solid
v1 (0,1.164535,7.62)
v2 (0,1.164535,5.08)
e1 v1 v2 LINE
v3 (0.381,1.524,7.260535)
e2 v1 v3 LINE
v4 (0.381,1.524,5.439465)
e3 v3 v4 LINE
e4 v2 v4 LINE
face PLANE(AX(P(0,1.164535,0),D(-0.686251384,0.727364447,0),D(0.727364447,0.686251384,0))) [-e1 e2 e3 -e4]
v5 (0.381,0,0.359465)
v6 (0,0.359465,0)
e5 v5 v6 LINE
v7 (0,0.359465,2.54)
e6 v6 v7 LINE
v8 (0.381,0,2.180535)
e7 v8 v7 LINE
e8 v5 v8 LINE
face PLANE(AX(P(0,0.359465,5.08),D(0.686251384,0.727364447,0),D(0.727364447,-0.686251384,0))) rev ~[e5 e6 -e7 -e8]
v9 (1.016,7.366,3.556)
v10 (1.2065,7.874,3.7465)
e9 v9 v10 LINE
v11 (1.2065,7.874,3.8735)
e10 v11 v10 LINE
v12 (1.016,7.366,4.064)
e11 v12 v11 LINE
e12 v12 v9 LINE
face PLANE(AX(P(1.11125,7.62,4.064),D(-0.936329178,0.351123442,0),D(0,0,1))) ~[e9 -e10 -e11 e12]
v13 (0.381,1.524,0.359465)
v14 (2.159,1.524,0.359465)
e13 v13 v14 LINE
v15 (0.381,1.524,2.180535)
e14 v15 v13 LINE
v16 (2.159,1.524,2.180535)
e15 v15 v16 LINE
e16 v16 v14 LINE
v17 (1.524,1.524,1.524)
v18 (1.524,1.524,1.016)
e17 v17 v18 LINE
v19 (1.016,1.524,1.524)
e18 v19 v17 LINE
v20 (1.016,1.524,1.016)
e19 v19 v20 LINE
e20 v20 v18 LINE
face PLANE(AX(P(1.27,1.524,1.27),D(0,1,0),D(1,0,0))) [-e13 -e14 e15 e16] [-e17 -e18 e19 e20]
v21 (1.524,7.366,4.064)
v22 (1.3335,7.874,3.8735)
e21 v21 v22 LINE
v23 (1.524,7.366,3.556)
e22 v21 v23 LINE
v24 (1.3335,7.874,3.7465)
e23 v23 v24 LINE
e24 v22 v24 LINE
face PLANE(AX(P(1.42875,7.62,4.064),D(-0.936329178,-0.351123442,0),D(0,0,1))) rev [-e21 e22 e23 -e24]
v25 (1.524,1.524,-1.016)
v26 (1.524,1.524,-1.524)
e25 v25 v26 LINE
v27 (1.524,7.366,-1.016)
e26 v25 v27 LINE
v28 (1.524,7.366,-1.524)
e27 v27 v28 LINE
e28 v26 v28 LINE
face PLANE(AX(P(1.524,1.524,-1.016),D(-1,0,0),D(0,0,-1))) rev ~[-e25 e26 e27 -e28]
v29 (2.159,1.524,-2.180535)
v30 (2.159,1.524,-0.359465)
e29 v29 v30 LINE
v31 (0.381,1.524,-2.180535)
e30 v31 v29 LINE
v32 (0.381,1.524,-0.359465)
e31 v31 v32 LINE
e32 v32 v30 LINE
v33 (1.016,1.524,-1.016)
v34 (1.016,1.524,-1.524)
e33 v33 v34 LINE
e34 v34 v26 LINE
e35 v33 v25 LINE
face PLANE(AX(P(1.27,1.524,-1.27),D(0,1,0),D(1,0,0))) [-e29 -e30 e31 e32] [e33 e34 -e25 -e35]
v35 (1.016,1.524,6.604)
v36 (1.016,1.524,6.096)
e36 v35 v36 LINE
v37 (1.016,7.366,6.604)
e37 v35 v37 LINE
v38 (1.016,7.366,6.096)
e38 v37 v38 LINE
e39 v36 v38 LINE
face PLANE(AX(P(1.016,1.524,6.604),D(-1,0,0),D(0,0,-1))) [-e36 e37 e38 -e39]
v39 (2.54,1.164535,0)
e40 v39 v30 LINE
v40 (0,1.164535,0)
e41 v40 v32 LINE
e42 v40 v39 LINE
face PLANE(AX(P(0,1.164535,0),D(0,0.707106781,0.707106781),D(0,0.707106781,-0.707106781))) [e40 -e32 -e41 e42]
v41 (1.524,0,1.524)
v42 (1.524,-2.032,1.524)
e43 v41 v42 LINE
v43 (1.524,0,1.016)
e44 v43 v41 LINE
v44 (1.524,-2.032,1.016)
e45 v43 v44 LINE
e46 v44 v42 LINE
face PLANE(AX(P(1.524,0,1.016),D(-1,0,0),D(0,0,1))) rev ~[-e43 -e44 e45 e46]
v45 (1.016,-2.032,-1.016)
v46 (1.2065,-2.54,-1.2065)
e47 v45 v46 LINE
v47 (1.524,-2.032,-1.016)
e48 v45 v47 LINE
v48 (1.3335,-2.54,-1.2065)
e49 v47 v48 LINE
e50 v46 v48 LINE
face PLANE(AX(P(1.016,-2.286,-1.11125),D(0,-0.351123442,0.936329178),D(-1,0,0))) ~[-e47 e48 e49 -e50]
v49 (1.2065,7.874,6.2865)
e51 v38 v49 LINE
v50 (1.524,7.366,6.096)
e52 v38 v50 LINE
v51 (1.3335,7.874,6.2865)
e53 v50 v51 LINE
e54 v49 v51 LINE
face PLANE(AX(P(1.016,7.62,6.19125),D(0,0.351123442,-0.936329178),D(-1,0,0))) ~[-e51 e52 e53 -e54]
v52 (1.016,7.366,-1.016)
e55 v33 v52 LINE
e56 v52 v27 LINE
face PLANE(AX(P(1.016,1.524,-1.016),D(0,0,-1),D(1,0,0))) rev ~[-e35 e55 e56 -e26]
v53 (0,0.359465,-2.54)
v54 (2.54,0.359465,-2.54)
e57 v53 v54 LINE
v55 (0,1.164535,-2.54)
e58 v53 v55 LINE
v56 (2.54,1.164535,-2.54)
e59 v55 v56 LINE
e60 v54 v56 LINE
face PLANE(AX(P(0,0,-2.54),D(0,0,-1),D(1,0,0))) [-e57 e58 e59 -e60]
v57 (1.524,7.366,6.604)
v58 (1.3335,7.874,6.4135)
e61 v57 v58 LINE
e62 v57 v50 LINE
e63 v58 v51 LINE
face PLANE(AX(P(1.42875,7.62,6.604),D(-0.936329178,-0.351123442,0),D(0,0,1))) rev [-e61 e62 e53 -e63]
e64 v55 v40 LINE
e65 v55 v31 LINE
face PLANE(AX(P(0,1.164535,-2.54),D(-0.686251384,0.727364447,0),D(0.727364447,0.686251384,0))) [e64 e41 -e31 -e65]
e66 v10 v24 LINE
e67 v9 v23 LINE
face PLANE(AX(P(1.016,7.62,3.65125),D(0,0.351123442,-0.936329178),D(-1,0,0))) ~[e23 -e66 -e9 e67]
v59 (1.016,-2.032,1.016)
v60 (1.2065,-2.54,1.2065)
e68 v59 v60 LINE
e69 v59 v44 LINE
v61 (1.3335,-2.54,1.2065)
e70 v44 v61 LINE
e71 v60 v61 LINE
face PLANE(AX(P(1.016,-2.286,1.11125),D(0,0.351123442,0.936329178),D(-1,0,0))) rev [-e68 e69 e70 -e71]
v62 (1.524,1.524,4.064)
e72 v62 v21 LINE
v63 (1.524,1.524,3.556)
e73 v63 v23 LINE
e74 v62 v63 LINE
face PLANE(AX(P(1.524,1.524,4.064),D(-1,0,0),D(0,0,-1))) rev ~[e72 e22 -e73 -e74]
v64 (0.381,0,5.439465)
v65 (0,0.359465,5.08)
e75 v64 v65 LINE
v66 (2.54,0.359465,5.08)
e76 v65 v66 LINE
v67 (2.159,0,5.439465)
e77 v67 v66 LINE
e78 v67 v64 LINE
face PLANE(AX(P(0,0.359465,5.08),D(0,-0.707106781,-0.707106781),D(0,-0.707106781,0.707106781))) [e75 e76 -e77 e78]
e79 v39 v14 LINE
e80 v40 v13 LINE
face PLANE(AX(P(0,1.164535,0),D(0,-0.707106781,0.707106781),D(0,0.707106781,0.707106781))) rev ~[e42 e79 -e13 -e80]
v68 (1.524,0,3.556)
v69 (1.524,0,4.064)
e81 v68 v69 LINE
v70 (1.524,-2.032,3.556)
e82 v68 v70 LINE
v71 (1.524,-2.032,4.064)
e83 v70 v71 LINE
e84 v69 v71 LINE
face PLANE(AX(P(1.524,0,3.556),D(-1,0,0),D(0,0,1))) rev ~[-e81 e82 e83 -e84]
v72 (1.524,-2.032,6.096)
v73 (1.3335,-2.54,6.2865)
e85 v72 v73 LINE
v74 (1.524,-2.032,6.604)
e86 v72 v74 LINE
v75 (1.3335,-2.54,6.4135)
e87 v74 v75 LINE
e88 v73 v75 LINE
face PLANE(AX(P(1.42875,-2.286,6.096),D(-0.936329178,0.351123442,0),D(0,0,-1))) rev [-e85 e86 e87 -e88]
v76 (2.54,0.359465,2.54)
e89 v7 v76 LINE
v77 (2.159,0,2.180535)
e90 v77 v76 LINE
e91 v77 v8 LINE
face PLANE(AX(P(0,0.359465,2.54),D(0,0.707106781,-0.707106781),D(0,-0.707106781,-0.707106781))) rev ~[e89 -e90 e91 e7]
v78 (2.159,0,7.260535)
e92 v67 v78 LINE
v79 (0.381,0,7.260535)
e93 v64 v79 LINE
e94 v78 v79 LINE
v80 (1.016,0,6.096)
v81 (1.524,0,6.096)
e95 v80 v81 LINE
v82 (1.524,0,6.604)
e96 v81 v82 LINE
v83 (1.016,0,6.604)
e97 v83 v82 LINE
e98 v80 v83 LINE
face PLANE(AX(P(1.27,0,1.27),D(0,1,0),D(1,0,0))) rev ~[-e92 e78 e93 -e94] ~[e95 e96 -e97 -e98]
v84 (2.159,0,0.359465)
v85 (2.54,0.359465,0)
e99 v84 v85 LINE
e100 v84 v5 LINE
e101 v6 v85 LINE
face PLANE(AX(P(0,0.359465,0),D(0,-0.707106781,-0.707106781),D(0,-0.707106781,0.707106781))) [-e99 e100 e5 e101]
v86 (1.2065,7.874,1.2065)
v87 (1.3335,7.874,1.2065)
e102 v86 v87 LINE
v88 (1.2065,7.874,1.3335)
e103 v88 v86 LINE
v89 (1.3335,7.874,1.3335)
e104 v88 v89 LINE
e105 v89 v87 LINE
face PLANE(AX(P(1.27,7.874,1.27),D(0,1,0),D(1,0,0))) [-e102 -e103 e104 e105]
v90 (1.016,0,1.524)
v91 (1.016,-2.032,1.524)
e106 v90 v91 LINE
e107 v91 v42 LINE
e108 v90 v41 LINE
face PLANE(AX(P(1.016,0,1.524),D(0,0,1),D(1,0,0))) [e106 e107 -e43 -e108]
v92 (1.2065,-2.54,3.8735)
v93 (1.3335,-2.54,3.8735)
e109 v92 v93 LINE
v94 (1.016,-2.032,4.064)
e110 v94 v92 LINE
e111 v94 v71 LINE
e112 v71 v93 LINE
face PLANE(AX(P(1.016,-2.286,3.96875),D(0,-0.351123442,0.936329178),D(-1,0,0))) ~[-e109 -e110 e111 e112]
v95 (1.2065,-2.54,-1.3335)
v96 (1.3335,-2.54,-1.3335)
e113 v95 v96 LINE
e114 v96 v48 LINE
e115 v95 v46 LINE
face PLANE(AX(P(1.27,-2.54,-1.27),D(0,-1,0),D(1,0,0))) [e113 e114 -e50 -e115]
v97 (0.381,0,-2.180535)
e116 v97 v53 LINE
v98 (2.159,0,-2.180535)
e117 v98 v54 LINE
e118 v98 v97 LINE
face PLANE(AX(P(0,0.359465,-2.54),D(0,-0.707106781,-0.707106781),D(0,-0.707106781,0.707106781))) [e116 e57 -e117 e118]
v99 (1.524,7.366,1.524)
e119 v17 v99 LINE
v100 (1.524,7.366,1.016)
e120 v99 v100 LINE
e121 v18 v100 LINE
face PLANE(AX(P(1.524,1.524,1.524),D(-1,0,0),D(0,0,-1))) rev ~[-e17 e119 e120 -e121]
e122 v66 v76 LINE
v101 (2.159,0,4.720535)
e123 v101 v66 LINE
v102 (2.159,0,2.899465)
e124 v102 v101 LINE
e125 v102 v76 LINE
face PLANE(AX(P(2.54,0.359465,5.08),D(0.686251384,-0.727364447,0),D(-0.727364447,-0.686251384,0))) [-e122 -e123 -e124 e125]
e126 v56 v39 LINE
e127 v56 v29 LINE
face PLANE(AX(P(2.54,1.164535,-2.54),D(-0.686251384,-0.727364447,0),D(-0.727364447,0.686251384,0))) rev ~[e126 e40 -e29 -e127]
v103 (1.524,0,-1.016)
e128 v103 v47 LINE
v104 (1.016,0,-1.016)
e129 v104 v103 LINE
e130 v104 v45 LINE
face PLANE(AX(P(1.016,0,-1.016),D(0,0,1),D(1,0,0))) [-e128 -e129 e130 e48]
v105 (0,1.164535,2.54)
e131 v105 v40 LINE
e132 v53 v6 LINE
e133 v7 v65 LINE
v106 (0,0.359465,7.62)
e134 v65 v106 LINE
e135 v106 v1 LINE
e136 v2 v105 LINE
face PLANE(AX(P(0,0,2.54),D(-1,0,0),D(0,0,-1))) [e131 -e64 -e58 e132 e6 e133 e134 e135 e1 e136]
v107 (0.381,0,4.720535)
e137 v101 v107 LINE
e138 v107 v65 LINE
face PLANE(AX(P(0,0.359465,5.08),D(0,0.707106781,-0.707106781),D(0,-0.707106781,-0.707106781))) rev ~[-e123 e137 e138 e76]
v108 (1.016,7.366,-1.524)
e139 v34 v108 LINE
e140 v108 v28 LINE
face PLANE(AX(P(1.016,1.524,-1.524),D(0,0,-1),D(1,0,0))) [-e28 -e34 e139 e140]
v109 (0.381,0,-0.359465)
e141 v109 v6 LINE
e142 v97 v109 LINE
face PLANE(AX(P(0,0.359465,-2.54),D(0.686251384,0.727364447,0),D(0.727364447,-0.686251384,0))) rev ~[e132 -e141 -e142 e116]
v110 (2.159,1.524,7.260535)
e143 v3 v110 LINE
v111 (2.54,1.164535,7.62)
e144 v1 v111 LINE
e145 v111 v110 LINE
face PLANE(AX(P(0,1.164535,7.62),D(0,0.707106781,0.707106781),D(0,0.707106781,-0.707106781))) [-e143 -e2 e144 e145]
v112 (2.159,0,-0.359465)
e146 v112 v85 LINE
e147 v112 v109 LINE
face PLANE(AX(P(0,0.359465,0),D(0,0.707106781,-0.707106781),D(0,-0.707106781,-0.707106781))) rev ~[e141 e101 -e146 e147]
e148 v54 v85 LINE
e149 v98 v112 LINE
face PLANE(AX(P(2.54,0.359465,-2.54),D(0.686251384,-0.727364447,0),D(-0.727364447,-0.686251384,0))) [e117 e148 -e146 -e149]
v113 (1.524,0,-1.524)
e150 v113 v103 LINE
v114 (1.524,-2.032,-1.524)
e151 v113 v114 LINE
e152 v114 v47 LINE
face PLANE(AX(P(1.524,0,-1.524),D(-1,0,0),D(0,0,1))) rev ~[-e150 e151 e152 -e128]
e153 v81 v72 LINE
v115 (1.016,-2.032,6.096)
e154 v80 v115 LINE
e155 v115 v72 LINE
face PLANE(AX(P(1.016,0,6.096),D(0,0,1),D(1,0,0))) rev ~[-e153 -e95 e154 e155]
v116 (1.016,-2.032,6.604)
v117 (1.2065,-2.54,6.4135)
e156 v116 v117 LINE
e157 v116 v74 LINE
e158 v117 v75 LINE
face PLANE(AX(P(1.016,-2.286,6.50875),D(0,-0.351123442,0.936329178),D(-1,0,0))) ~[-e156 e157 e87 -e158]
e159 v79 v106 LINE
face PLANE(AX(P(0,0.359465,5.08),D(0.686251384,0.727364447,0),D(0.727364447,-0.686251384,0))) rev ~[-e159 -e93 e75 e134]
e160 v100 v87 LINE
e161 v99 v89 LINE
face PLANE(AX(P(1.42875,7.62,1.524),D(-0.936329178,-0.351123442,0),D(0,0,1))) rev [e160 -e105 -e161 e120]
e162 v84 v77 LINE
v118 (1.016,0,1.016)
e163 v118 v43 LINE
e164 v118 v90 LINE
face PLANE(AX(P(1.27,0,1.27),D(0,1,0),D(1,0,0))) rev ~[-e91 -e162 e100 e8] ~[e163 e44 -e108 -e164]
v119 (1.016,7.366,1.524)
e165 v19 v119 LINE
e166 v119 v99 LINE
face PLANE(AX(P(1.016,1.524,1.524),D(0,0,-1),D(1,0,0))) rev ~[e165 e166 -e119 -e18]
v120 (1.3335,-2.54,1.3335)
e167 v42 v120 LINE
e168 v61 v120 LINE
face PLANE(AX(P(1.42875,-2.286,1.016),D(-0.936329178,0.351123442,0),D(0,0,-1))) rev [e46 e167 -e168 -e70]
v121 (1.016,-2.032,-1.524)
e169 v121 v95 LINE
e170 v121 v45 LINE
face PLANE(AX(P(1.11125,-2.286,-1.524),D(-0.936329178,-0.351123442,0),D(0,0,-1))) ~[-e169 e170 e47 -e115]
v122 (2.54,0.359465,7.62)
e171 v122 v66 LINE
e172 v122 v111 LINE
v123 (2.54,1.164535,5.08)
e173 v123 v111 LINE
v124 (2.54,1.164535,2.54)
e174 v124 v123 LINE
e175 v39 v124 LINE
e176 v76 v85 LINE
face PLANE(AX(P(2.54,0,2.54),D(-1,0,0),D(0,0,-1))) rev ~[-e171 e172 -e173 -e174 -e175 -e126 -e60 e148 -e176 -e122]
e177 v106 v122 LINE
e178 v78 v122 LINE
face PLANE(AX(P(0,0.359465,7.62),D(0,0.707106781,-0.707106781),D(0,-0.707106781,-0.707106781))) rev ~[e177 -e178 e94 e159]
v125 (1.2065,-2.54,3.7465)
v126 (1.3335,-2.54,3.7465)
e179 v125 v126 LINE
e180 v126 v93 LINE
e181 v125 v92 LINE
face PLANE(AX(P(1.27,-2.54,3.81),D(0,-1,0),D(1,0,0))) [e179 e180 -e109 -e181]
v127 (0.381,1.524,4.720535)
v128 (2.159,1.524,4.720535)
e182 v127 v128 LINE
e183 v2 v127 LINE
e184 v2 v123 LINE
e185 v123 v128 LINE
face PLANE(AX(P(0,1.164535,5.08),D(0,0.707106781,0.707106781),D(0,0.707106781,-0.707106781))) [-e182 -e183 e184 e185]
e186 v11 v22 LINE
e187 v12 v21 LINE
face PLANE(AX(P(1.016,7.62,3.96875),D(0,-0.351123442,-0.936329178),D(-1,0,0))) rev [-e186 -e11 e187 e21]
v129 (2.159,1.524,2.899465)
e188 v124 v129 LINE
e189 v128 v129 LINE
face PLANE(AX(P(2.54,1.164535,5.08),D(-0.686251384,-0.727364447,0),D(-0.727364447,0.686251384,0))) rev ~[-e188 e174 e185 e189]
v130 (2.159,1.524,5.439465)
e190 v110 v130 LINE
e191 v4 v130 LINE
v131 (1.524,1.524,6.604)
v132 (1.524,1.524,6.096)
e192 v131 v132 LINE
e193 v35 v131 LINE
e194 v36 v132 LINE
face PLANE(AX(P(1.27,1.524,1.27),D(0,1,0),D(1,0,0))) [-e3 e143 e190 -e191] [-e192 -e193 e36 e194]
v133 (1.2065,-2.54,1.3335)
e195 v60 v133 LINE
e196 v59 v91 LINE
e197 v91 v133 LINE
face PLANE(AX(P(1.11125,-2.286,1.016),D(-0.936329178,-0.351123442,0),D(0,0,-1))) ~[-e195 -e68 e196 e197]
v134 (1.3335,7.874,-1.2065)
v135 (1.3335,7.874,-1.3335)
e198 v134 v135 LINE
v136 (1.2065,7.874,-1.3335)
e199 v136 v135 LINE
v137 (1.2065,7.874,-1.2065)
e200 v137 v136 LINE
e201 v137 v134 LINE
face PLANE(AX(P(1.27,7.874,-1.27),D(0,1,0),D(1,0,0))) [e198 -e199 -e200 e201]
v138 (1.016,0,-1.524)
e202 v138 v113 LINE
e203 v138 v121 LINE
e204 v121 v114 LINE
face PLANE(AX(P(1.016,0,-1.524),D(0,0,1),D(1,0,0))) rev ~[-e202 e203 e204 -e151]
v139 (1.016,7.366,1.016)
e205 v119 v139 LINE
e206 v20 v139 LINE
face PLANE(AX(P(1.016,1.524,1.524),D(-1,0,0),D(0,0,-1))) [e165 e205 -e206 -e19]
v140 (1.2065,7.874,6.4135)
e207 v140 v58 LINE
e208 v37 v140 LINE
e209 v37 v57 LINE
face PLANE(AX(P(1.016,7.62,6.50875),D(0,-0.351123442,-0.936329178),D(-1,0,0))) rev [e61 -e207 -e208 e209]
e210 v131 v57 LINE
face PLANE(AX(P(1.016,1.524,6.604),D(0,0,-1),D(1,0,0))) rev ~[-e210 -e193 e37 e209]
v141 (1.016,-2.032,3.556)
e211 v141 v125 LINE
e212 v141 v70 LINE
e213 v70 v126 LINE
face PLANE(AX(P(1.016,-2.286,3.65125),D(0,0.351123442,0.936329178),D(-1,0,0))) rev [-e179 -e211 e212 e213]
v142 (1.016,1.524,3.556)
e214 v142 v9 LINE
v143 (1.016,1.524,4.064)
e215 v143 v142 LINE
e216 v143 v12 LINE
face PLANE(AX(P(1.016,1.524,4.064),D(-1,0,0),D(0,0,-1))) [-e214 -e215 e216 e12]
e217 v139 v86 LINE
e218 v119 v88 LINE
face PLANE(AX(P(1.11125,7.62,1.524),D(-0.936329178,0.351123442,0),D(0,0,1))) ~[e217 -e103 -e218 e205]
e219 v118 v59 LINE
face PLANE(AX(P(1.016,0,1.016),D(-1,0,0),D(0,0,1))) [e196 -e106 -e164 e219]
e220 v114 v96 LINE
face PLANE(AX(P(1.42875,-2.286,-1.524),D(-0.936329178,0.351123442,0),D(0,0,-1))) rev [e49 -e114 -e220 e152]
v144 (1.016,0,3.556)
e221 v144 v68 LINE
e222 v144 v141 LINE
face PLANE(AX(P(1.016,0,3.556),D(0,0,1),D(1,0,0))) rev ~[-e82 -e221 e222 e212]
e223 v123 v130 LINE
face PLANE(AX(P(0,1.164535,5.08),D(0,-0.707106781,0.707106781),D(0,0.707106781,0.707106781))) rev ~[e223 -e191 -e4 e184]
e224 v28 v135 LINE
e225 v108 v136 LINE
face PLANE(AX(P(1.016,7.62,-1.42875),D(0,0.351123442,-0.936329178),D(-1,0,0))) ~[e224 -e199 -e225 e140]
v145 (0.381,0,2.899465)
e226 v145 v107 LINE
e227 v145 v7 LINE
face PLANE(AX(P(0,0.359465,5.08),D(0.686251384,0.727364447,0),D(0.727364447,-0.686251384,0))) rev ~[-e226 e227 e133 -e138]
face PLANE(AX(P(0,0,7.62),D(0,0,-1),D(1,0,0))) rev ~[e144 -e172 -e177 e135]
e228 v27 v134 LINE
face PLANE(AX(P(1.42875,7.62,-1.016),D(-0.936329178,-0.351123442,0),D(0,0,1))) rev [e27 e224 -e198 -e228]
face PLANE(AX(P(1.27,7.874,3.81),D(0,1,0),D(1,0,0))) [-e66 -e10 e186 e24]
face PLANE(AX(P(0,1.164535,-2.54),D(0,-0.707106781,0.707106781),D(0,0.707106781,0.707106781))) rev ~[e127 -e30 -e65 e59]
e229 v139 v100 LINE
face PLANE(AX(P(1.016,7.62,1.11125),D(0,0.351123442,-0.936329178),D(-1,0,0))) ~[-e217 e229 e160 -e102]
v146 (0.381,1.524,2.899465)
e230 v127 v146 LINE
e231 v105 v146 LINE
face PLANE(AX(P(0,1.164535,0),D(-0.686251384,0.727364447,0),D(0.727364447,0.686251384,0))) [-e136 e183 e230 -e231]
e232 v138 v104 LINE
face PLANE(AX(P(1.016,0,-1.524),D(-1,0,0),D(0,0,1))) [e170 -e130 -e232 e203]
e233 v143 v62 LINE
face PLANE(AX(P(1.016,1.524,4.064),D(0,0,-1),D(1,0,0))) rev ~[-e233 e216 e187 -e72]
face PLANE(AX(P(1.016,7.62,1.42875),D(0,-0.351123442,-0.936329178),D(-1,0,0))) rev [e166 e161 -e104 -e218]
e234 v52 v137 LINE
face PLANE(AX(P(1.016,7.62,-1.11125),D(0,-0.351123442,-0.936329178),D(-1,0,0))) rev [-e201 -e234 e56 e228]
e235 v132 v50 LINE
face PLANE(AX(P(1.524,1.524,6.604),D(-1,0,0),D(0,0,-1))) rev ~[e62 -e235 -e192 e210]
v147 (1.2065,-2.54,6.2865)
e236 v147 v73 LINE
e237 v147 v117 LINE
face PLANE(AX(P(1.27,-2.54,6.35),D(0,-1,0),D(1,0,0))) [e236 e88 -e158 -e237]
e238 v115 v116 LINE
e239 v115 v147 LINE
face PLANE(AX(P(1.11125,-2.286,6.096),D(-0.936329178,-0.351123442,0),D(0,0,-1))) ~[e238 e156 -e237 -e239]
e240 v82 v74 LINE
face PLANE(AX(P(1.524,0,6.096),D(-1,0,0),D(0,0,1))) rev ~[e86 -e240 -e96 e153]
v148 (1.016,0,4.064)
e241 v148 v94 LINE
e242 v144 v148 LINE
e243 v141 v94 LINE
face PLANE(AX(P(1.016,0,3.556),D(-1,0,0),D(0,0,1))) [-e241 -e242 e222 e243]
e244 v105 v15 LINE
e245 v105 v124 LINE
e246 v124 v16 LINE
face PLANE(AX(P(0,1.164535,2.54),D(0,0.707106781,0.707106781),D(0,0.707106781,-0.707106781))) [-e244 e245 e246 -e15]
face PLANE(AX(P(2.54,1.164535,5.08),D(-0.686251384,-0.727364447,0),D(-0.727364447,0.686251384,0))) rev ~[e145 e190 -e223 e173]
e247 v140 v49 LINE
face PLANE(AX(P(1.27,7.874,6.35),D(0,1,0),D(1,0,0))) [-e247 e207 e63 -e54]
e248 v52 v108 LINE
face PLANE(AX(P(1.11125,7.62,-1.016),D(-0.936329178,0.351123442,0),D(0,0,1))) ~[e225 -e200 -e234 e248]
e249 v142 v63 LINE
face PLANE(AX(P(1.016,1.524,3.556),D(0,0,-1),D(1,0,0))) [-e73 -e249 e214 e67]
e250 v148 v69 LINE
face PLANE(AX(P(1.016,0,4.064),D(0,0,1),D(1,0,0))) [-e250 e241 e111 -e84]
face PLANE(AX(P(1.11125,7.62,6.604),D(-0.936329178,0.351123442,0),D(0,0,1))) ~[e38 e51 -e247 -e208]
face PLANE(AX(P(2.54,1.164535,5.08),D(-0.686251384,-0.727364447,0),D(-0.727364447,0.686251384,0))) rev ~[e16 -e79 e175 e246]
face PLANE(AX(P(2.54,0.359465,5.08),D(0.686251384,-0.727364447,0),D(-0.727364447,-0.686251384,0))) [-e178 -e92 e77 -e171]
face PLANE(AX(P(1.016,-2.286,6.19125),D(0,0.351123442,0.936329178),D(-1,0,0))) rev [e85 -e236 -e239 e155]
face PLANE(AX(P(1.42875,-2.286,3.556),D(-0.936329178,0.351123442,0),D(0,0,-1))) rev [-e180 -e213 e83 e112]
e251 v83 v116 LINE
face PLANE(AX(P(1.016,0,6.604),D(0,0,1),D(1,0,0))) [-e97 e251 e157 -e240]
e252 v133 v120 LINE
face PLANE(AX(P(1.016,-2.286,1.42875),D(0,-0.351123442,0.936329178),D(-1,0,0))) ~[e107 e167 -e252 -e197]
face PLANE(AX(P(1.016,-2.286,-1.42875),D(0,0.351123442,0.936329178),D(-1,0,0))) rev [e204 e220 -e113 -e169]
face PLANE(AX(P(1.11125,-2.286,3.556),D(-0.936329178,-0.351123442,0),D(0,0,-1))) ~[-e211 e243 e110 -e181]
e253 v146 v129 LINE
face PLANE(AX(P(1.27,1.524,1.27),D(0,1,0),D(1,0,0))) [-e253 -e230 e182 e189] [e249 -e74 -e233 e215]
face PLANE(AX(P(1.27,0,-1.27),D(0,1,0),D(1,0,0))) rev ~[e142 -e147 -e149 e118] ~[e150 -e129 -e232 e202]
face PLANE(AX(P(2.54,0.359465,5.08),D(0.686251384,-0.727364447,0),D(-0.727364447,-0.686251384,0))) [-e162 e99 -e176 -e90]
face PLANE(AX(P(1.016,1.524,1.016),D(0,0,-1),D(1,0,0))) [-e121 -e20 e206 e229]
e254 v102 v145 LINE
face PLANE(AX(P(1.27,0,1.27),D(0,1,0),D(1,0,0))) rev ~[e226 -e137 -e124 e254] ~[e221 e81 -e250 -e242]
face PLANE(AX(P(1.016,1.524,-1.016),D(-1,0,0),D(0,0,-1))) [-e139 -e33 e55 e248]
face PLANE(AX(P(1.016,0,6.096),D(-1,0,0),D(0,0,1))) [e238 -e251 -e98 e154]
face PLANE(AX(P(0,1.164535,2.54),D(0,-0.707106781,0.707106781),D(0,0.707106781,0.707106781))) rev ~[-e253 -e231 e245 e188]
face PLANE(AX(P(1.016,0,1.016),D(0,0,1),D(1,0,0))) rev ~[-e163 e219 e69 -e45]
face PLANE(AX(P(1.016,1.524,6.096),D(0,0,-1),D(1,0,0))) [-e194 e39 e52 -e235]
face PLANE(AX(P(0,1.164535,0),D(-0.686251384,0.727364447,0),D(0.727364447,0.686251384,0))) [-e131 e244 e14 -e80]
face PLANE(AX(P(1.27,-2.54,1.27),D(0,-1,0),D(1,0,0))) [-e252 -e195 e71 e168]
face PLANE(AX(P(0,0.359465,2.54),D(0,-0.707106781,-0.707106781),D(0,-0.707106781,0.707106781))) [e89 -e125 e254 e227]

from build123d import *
from OCP.BRepFilletAPI import BRepFilletAPI_MakeChamfer

# Parameters (mm, degrees)
SKETCH1_W                   = 2.54
SKETCH1_H                   = 2.54
BOSS_EXTRUDE1_DEPTH         = 1.524
SKETCH2_W                   = 0.508
SKETCH2_H                   = 0.508
BOSS_EXTRUDE2_DEPTH         = 6.35
SKETCH3_W                   = 0.508
SKETCH3_H                   = 0.508
BOSS_EXTRUDE3_DEPTH         = 2.54
CHAMFER1_SIZE               = 0.508
CHAMFER1_SIZE2              = 0.1905
CHAMFER2_SIZE               = 0.508
CHAMFER2_SIZE2              = 0.1905
CUT_EXTRUDE1_DEPTH          = 2.54
CUT_EXTRUDE2_DEPTH          = 2.54
LPATTERN5_COUNT             = 4
LPATTERN5_PITCH             = 2.54
CHAMFER1_OF_LPATTERN5_SIZE  = 0.508
CHAMFER1_OF_LPATTERN5_SIZE2 = 0.1905
CHAMFER2_OF_LPATTERN5_SIZE  = 0.508
CHAMFER2_OF_LPATTERN5_SIZE2 = 0.1905


with BuildPart() as part:
    # Sketch1 → Boss-Extrude1 (new body)
    with BuildSketch(Plane(origin=(0, 0, 0), x_dir=(1, 0, 0), z_dir=(0, 1, 0))):
        with Locations((1.27, 1.27)):
            Rectangle(SKETCH1_W, SKETCH1_H)
    boss_extrude1 = extrude(amount=BOSS_EXTRUDE1_DEPTH)

    # Sketch2 → Boss-Extrude2 (add)
    with BuildSketch(Plane(origin=(0, 1.524, 0), x_dir=(1, 0, 0), z_dir=(0, 1, 0))):
        with Locations((1.27, 1.27)):
            Rectangle(SKETCH2_W, SKETCH2_H)
    boss_extrude2 = extrude(amount=BOSS_EXTRUDE2_DEPTH)

    # Sketch3 → Boss-Extrude3 (add)
    with BuildSketch(Plane.XZ):
        with Locations((1.27, -1.27)):
            Rectangle(SKETCH3_W, SKETCH3_H)
    boss_extrude3 = extrude(amount=BOSS_EXTRUDE3_DEPTH)

    # Chamfer1: one chamfer whose edges measure the first distance from different faces: ONE call of the kernel's chamfer builder (chamfer() names one face for all edges)
    chamfer1_edges_1 = [part.edges().sort_by_distance(p)[0] for p in [
        (1.016, 7.874, -1.27),
    ]]
    chamfer1_side_1 = [part.faces().sort_by_distance(p)[0] for p in [
        (1.016, 4.699, -1.27),
    ]]
    chamfer1_edges_2 = [part.edges().sort_by_distance(p)[0] for p in [
        (1.27, 7.874, -1.016),
    ]]
    chamfer1_side_2 = [part.faces().sort_by_distance(p)[0] for p in [
        (1.27, 4.699, -1.016),
    ]]
    chamfer1_edges_3 = [part.edges().sort_by_distance(p)[0] for p in [
        (1.524, 7.874, -1.27),
    ]]
    chamfer1_side_3 = [part.faces().sort_by_distance(p)[0] for p in [
        (1.524, 4.699, -1.27),
    ]]
    chamfer1_edges_4 = [part.edges().sort_by_distance(p)[0] for p in [
        (1.27, 7.874, -1.524),
    ]]
    chamfer1_side_4 = [part.faces().sort_by_distance(p)[0] for p in [
        (1.27, 4.699, -1.524),
    ]]
    chamfer1 = BRepFilletAPI_MakeChamfer(part.part.solid().wrapped)
    for e in chamfer1_edges_1:
        chamfer1.Add(CHAMFER1_SIZE, CHAMFER1_SIZE2, e.wrapped, chamfer1_side_1[0].wrapped)  # the first distance lies on this face
    for e in chamfer1_edges_2:
        chamfer1.Add(CHAMFER1_SIZE, CHAMFER1_SIZE2, e.wrapped, chamfer1_side_2[0].wrapped)  # the first distance lies on this face
    for e in chamfer1_edges_3:
        chamfer1.Add(CHAMFER1_SIZE, CHAMFER1_SIZE2, e.wrapped, chamfer1_side_3[0].wrapped)  # the first distance lies on this face
    for e in chamfer1_edges_4:
        chamfer1.Add(CHAMFER1_SIZE, CHAMFER1_SIZE2, e.wrapped, chamfer1_side_4[0].wrapped)  # the first distance lies on this face
    add(Compound.cast(chamfer1.Shape()), mode=Mode.REPLACE)

    # Chamfer2: one chamfer whose edges measure the first distance from different faces: ONE call of the kernel's chamfer builder (chamfer() names one face for all edges)
    chamfer2_edges_1 = [part.edges().sort_by_distance(p)[0] for p in [
        (1.27, -2.54, -1.524),
    ]]
    chamfer2_side_1 = [part.faces().sort_by_distance(p)[0] for p in [
        (1.27, -1.27, -1.524),
    ]]
    chamfer2_edges_2 = [part.edges().sort_by_distance(p)[0] for p in [
        (1.524, -2.54, -1.27),
    ]]
    chamfer2_side_2 = [part.faces().sort_by_distance(p)[0] for p in [
        (1.524, -1.27, -1.27),
    ]]
    chamfer2_edges_3 = [part.edges().sort_by_distance(p)[0] for p in [
        (1.27, -2.54, -1.016),
    ]]
    chamfer2_side_3 = [part.faces().sort_by_distance(p)[0] for p in [
        (1.27, -1.27, -1.016),
    ]]
    chamfer2_edges_4 = [part.edges().sort_by_distance(p)[0] for p in [
        (1.016, -2.54, -1.27),
    ]]
    chamfer2_side_4 = [part.faces().sort_by_distance(p)[0] for p in [
        (1.016, -1.27, -1.27),
    ]]
    chamfer2 = BRepFilletAPI_MakeChamfer(part.part.solid().wrapped)
    for e in chamfer2_edges_1:
        chamfer2.Add(CHAMFER2_SIZE, CHAMFER2_SIZE2, e.wrapped, chamfer2_side_1[0].wrapped)  # the first distance lies on this face
    for e in chamfer2_edges_2:
        chamfer2.Add(CHAMFER2_SIZE, CHAMFER2_SIZE2, e.wrapped, chamfer2_side_2[0].wrapped)  # the first distance lies on this face
    for e in chamfer2_edges_3:
        chamfer2.Add(CHAMFER2_SIZE, CHAMFER2_SIZE2, e.wrapped, chamfer2_side_3[0].wrapped)  # the first distance lies on this face
    for e in chamfer2_edges_4:
        chamfer2.Add(CHAMFER2_SIZE, CHAMFER2_SIZE2, e.wrapped, chamfer2_side_4[0].wrapped)  # the first distance lies on this face
    add(Compound.cast(chamfer2.Shape()), mode=Mode.REPLACE)

    # Sketch4 → Cut-Extrude1 (cut)
    with BuildSketch(Plane(origin=(0, 0, -2.54), x_dir=(-1, 0, 0), z_dir=(0, 0, -1))):
        Polygon((-2.54, 1.16453539), (-2.159, 1.524), (-2.54, 1.524), align=None)
        Polygon((0, 1.524), (0, 1.16453539), (-0.381, 1.524), align=None)
        Polygon((0, 0.35946461), (-0.381, 0), (0, 0), align=None)
        Polygon((-2.54, 0), (-2.54, 0.35946461), (-2.159, 0), align=None)
    cut_extrude1 = extrude(amount=-CUT_EXTRUDE1_DEPTH, mode=Mode.SUBTRACT)

    # Sketch5 → Cut-Extrude2 (cut)
    with BuildSketch(Plane.ZY):
        Polygon((-2.54, 1.16453539), (-2.159, 1.54553539), (-2.54, 1.54553539), align=None)
        Polygon((0, 1.54553539), (0, 1.16453539), (-0.381, 1.54553539), align=None)
        Polygon((-2.54, -0.02153539), (-2.54, 0.35946461), (-2.159, -0.02153539), align=None)
        Polygon((0, 0.35946461), (-0.381, -0.02153539), (0, -0.02153539), align=None)
    cut_extrude2 = extrude(amount=-CUT_EXTRUDE2_DEPTH, mode=Mode.SUBTRACT)

    # LPattern5: Boss-Extrude1, Boss-Extrude2, Boss-Extrude3, Cut-Extrude1, Cut-Extrude2 ×4
    with Locations(*[(0, 0, i * LPATTERN5_PITCH) for i in range(1, LPATTERN5_COUNT)]):
        add(boss_extrude1)
        add(boss_extrude2)
        add(boss_extrude3)
        add(cut_extrude1, mode=Mode.SUBTRACT)
        add(cut_extrude2, mode=Mode.SUBTRACT)

    # Chamfer1 of LPattern5: one chamfer whose edges measure the first distance from different faces: ONE call of the kernel's chamfer builder (chamfer() names one face for all edges)
    chamfer1_of_lpattern5_edges_1 = [part.edges().sort_by_distance(p)[0] for p in [
        (1.016, 7.874, 1.27),
    ]]
    chamfer1_of_lpattern5_side_1 = [part.faces().sort_by_distance(p)[0] for p in [
        (1.016, 4.699, 1.27),
    ]]
    chamfer1_of_lpattern5_edges_2 = [part.edges().sort_by_distance(p)[0] for p in [
        (1.27, 7.874, 1.524),
    ]]
    chamfer1_of_lpattern5_side_2 = [part.faces().sort_by_distance(p)[0] for p in [
        (1.27, 4.699, 1.524),
    ]]
    chamfer1_of_lpattern5_edges_3 = [part.edges().sort_by_distance(p)[0] for p in [
        (1.524, 7.874, 1.27),
    ]]
    chamfer1_of_lpattern5_side_3 = [part.faces().sort_by_distance(p)[0] for p in [
        (1.524, 4.699, 1.27),
    ]]
    chamfer1_of_lpattern5_edges_4 = [part.edges().sort_by_distance(p)[0] for p in [
        (1.27, 7.874, 1.016),
    ]]
    chamfer1_of_lpattern5_side_4 = [part.faces().sort_by_distance(p)[0] for p in [
        (1.27, 4.699, 1.016),
    ]]
    chamfer1_of_lpattern5_edges_5 = [part.edges().sort_by_distance(p)[0] for p in [
        (1.016, 7.874, 3.81),
    ]]
    chamfer1_of_lpattern5_side_5 = [part.faces().sort_by_distance(p)[0] for p in [
        (1.016, 4.699, 3.81),
    ]]
    chamfer1_of_lpattern5_edges_6 = [part.edges().sort_by_distance(p)[0] for p in [
        (1.27, 7.874, 4.064),
    ]]
    chamfer1_of_lpattern5_side_6 = [part.faces().sort_by_distance(p)[0] for p in [
        (1.27, 4.699, 4.064),
    ]]
    chamfer1_of_lpattern5_edges_7 = [part.edges().sort_by_distance(p)[0] for p in [
        (1.524, 7.874, 3.81),
    ]]
    chamfer1_of_lpattern5_side_7 = [part.faces().sort_by_distance(p)[0] for p in [
        (1.524, 4.699, 3.81),
    ]]
    chamfer1_of_lpattern5_edges_8 = [part.edges().sort_by_distance(p)[0] for p in [
        (1.27, 7.874, 3.556),
    ]]
    chamfer1_of_lpattern5_side_8 = [part.faces().sort_by_distance(p)[0] for p in [
        (1.27, 4.699, 3.556),
    ]]
    chamfer1_of_lpattern5_edges_9 = [part.edges().sort_by_distance(p)[0] for p in [
        (1.016, 7.874, 6.35),
    ]]
    chamfer1_of_lpattern5_side_9 = [part.faces().sort_by_distance(p)[0] for p in [
        (1.016, 4.699, 6.35),
    ]]
    chamfer1_of_lpattern5_edges_10 = [part.edges().sort_by_distance(p)[0] for p in [
        (1.27, 7.874, 6.604),
    ]]
    chamfer1_of_lpattern5_side_10 = [part.faces().sort_by_distance(p)[0] for p in [
        (1.27, 4.699, 6.604),
    ]]
    chamfer1_of_lpattern5_edges_11 = [part.edges().sort_by_distance(p)[0] for p in [
        (1.524, 7.874, 6.35),
    ]]
    chamfer1_of_lpattern5_side_11 = [part.faces().sort_by_distance(p)[0] for p in [
        (1.524, 4.699, 6.35),
    ]]
    chamfer1_of_lpattern5_edges_12 = [part.edges().sort_by_distance(p)[0] for p in [
        (1.27, 7.874, 6.096),
    ]]
    chamfer1_of_lpattern5_side_12 = [part.faces().sort_by_distance(p)[0] for p in [
        (1.27, 4.699, 6.096),
    ]]
    chamfer1_of_lpattern5 = BRepFilletAPI_MakeChamfer(part.part.solid().wrapped)
    for e in chamfer1_of_lpattern5_edges_1:
        chamfer1_of_lpattern5.Add(CHAMFER1_OF_LPATTERN5_SIZE, CHAMFER1_OF_LPATTERN5_SIZE2, e.wrapped, chamfer1_of_lpattern5_side_1[0].wrapped)  # the first distance lies on this face
    for e in chamfer1_of_lpattern5_edges_2:
        chamfer1_of_lpattern5.Add(CHAMFER1_OF_LPATTERN5_SIZE, CHAMFER1_OF_LPATTERN5_SIZE2, e.wrapped, chamfer1_of_lpattern5_side_2[0].wrapped)  # the first distance lies on this face
    for e in chamfer1_of_lpattern5_edges_3:
        chamfer1_of_lpattern5.Add(CHAMFER1_OF_LPATTERN5_SIZE, CHAMFER1_OF_LPATTERN5_SIZE2, e.wrapped, chamfer1_of_lpattern5_side_3[0].wrapped)  # the first distance lies on this face
    for e in chamfer1_of_lpattern5_edges_4:
        chamfer1_of_lpattern5.Add(CHAMFER1_OF_LPATTERN5_SIZE, CHAMFER1_OF_LPATTERN5_SIZE2, e.wrapped, chamfer1_of_lpattern5_side_4[0].wrapped)  # the first distance lies on this face
    for e in chamfer1_of_lpattern5_edges_5:
        chamfer1_of_lpattern5.Add(CHAMFER1_OF_LPATTERN5_SIZE, CHAMFER1_OF_LPATTERN5_SIZE2, e.wrapped, chamfer1_of_lpattern5_side_5[0].wrapped)  # the first distance lies on this face
    for e in chamfer1_of_lpattern5_edges_6:
        chamfer1_of_lpattern5.Add(CHAMFER1_OF_LPATTERN5_SIZE, CHAMFER1_OF_LPATTERN5_SIZE2, e.wrapped, chamfer1_of_lpattern5_side_6[0].wrapped)  # the first distance lies on this face
    for e in chamfer1_of_lpattern5_edges_7:
        chamfer1_of_lpattern5.Add(CHAMFER1_OF_LPATTERN5_SIZE, CHAMFER1_OF_LPATTERN5_SIZE2, e.wrapped, chamfer1_of_lpattern5_side_7[0].wrapped)  # the first distance lies on this face
    for e in chamfer1_of_lpattern5_edges_8:
        chamfer1_of_lpattern5.Add(CHAMFER1_OF_LPATTERN5_SIZE, CHAMFER1_OF_LPATTERN5_SIZE2, e.wrapped, chamfer1_of_lpattern5_side_8[0].wrapped)  # the first distance lies on this face
    for e in chamfer1_of_lpattern5_edges_9:
        chamfer1_of_lpattern5.Add(CHAMFER1_OF_LPATTERN5_SIZE, CHAMFER1_OF_LPATTERN5_SIZE2, e.wrapped, chamfer1_of_lpattern5_side_9[0].wrapped)  # the first distance lies on this face
    for e in chamfer1_of_lpattern5_edges_10:
        chamfer1_of_lpattern5.Add(CHAMFER1_OF_LPATTERN5_SIZE, CHAMFER1_OF_LPATTERN5_SIZE2, e.wrapped, chamfer1_of_lpattern5_side_10[0].wrapped)  # the first distance lies on this face
    for e in chamfer1_of_lpattern5_edges_11:
        chamfer1_of_lpattern5.Add(CHAMFER1_OF_LPATTERN5_SIZE, CHAMFER1_OF_LPATTERN5_SIZE2, e.wrapped, chamfer1_of_lpattern5_side_11[0].wrapped)  # the first distance lies on this face
    for e in chamfer1_of_lpattern5_edges_12:
        chamfer1_of_lpattern5.Add(CHAMFER1_OF_LPATTERN5_SIZE, CHAMFER1_OF_LPATTERN5_SIZE2, e.wrapped, chamfer1_of_lpattern5_side_12[0].wrapped)  # the first distance lies on this face
    add(Compound.cast(chamfer1_of_lpattern5.Shape()), mode=Mode.REPLACE)

    # Chamfer2 of LPattern5: one chamfer whose edges measure the first distance from different faces: ONE call of the kernel's chamfer builder (chamfer() names one face for all edges)
    chamfer2_of_lpattern5_edges_1 = [part.edges().sort_by_distance(p)[0] for p in [
        (1.27, -2.54, 1.016),
    ]]
    chamfer2_of_lpattern5_side_1 = [part.faces().sort_by_distance(p)[0] for p in [
        (1.27, -1.27, 1.016),
    ]]
    chamfer2_of_lpattern5_edges_2 = [part.edges().sort_by_distance(p)[0] for p in [
        (1.524, -2.54, 1.27),
    ]]
    chamfer2_of_lpattern5_side_2 = [part.faces().sort_by_distance(p)[0] for p in [
        (1.524, -1.27, 1.27),
    ]]
    chamfer2_of_lpattern5_edges_3 = [part.edges().sort_by_distance(p)[0] for p in [
        (1.27, -2.54, 1.524),
    ]]
    chamfer2_of_lpattern5_side_3 = [part.faces().sort_by_distance(p)[0] for p in [
        (1.27, -1.27, 1.524),
    ]]
    chamfer2_of_lpattern5_edges_4 = [part.edges().sort_by_distance(p)[0] for p in [
        (1.016, -2.54, 1.27),
    ]]
    chamfer2_of_lpattern5_side_4 = [part.faces().sort_by_distance(p)[0] for p in [
        (1.016, -1.27, 1.27),
    ]]
    chamfer2_of_lpattern5_edges_5 = [part.edges().sort_by_distance(p)[0] for p in [
        (1.27, -2.54, 3.556),
    ]]
    chamfer2_of_lpattern5_side_5 = [part.faces().sort_by_distance(p)[0] for p in [
        (1.27, -1.27, 3.556),
    ]]
    chamfer2_of_lpattern5_edges_6 = [part.edges().sort_by_distance(p)[0] for p in [
        (1.524, -2.54, 3.81),
    ]]
    chamfer2_of_lpattern5_side_6 = [part.faces().sort_by_distance(p)[0] for p in [
        (1.524, -1.27, 3.81),
    ]]
    chamfer2_of_lpattern5_edges_7 = [part.edges().sort_by_distance(p)[0] for p in [
        (1.27, -2.54, 4.064),
    ]]
    chamfer2_of_lpattern5_side_7 = [part.faces().sort_by_distance(p)[0] for p in [
        (1.27, -1.27, 4.064),
    ]]
    chamfer2_of_lpattern5_edges_8 = [part.edges().sort_by_distance(p)[0] for p in [
        (1.016, -2.54, 3.81),
    ]]
    chamfer2_of_lpattern5_side_8 = [part.faces().sort_by_distance(p)[0] for p in [
        (1.016, -1.27, 3.81),
    ]]
    chamfer2_of_lpattern5_edges_9 = [part.edges().sort_by_distance(p)[0] for p in [
        (1.27, -2.54, 6.096),
    ]]
    chamfer2_of_lpattern5_side_9 = [part.faces().sort_by_distance(p)[0] for p in [
        (1.27, -1.27, 6.096),
    ]]
    chamfer2_of_lpattern5_edges_10 = [part.edges().sort_by_distance(p)[0] for p in [
        (1.524, -2.54, 6.35),
    ]]
    chamfer2_of_lpattern5_side_10 = [part.faces().sort_by_distance(p)[0] for p in [
        (1.524, -1.27, 6.35),
    ]]
    chamfer2_of_lpattern5_edges_11 = [part.edges().sort_by_distance(p)[0] for p in [
        (1.27, -2.54, 6.604),
    ]]
    chamfer2_of_lpattern5_side_11 = [part.faces().sort_by_distance(p)[0] for p in [
        (1.27, -1.27, 6.604),
    ]]
    chamfer2_of_lpattern5_edges_12 = [part.edges().sort_by_distance(p)[0] for p in [
        (1.016, -2.54, 6.35),
    ]]
    chamfer2_of_lpattern5_side_12 = [part.faces().sort_by_distance(p)[0] for p in [
        (1.016, -1.27, 6.35),
    ]]
    chamfer2_of_lpattern5 = BRepFilletAPI_MakeChamfer(part.part.solid().wrapped)
    for e in chamfer2_of_lpattern5_edges_1:
        chamfer2_of_lpattern5.Add(CHAMFER2_OF_LPATTERN5_SIZE, CHAMFER2_OF_LPATTERN5_SIZE2, e.wrapped, chamfer2_of_lpattern5_side_1[0].wrapped)  # the first distance lies on this face
    for e in chamfer2_of_lpattern5_edges_2:
        chamfer2_of_lpattern5.Add(CHAMFER2_OF_LPATTERN5_SIZE, CHAMFER2_OF_LPATTERN5_SIZE2, e.wrapped, chamfer2_of_lpattern5_side_2[0].wrapped)  # the first distance lies on this face
    for e in chamfer2_of_lpattern5_edges_3:
        chamfer2_of_lpattern5.Add(CHAMFER2_OF_LPATTERN5_SIZE, CHAMFER2_OF_LPATTERN5_SIZE2, e.wrapped, chamfer2_of_lpattern5_side_3[0].wrapped)  # the first distance lies on this face
    for e in chamfer2_of_lpattern5_edges_4:
        chamfer2_of_lpattern5.Add(CHAMFER2_OF_LPATTERN5_SIZE, CHAMFER2_OF_LPATTERN5_SIZE2, e.wrapped, chamfer2_of_lpattern5_side_4[0].wrapped)  # the first distance lies on this face
    for e in chamfer2_of_lpattern5_edges_5:
        chamfer2_of_lpattern5.Add(CHAMFER2_OF_LPATTERN5_SIZE, CHAMFER2_OF_LPATTERN5_SIZE2, e.wrapped, chamfer2_of_lpattern5_side_5[0].wrapped)  # the first distance lies on this face
    for e in chamfer2_of_lpattern5_edges_6:
        chamfer2_of_lpattern5.Add(CHAMFER2_OF_LPATTERN5_SIZE, CHAMFER2_OF_LPATTERN5_SIZE2, e.wrapped, chamfer2_of_lpattern5_side_6[0].wrapped)  # the first distance lies on this face
    for e in chamfer2_of_lpattern5_edges_7:
        chamfer2_of_lpattern5.Add(CHAMFER2_OF_LPATTERN5_SIZE, CHAMFER2_OF_LPATTERN5_SIZE2, e.wrapped, chamfer2_of_lpattern5_side_7[0].wrapped)  # the first distance lies on this face
    for e in chamfer2_of_lpattern5_edges_8:
        chamfer2_of_lpattern5.Add(CHAMFER2_OF_LPATTERN5_SIZE, CHAMFER2_OF_LPATTERN5_SIZE2, e.wrapped, chamfer2_of_lpattern5_side_8[0].wrapped)  # the first distance lies on this face
    for e in chamfer2_of_lpattern5_edges_9:
        chamfer2_of_lpattern5.Add(CHAMFER2_OF_LPATTERN5_SIZE, CHAMFER2_OF_LPATTERN5_SIZE2, e.wrapped, chamfer2_of_lpattern5_side_9[0].wrapped)  # the first distance lies on this face
    for e in chamfer2_of_lpattern5_edges_10:
        chamfer2_of_lpattern5.Add(CHAMFER2_OF_LPATTERN5_SIZE, CHAMFER2_OF_LPATTERN5_SIZE2, e.wrapped, chamfer2_of_lpattern5_side_10[0].wrapped)  # the first distance lies on this face
    for e in chamfer2_of_lpattern5_edges_11:
        chamfer2_of_lpattern5.Add(CHAMFER2_OF_LPATTERN5_SIZE, CHAMFER2_OF_LPATTERN5_SIZE2, e.wrapped, chamfer2_of_lpattern5_side_11[0].wrapped)  # the first distance lies on this face
    for e in chamfer2_of_lpattern5_edges_12:
        chamfer2_of_lpattern5.Add(CHAMFER2_OF_LPATTERN5_SIZE, CHAMFER2_OF_LPATTERN5_SIZE2, e.wrapped, chamfer2_of_lpattern5_side_12[0].wrapped)  # the first distance lies on this face
    add(Compound.cast(chamfer2_of_lpattern5.Shape()), mode=Mode.REPLACE)


solid = part.part
